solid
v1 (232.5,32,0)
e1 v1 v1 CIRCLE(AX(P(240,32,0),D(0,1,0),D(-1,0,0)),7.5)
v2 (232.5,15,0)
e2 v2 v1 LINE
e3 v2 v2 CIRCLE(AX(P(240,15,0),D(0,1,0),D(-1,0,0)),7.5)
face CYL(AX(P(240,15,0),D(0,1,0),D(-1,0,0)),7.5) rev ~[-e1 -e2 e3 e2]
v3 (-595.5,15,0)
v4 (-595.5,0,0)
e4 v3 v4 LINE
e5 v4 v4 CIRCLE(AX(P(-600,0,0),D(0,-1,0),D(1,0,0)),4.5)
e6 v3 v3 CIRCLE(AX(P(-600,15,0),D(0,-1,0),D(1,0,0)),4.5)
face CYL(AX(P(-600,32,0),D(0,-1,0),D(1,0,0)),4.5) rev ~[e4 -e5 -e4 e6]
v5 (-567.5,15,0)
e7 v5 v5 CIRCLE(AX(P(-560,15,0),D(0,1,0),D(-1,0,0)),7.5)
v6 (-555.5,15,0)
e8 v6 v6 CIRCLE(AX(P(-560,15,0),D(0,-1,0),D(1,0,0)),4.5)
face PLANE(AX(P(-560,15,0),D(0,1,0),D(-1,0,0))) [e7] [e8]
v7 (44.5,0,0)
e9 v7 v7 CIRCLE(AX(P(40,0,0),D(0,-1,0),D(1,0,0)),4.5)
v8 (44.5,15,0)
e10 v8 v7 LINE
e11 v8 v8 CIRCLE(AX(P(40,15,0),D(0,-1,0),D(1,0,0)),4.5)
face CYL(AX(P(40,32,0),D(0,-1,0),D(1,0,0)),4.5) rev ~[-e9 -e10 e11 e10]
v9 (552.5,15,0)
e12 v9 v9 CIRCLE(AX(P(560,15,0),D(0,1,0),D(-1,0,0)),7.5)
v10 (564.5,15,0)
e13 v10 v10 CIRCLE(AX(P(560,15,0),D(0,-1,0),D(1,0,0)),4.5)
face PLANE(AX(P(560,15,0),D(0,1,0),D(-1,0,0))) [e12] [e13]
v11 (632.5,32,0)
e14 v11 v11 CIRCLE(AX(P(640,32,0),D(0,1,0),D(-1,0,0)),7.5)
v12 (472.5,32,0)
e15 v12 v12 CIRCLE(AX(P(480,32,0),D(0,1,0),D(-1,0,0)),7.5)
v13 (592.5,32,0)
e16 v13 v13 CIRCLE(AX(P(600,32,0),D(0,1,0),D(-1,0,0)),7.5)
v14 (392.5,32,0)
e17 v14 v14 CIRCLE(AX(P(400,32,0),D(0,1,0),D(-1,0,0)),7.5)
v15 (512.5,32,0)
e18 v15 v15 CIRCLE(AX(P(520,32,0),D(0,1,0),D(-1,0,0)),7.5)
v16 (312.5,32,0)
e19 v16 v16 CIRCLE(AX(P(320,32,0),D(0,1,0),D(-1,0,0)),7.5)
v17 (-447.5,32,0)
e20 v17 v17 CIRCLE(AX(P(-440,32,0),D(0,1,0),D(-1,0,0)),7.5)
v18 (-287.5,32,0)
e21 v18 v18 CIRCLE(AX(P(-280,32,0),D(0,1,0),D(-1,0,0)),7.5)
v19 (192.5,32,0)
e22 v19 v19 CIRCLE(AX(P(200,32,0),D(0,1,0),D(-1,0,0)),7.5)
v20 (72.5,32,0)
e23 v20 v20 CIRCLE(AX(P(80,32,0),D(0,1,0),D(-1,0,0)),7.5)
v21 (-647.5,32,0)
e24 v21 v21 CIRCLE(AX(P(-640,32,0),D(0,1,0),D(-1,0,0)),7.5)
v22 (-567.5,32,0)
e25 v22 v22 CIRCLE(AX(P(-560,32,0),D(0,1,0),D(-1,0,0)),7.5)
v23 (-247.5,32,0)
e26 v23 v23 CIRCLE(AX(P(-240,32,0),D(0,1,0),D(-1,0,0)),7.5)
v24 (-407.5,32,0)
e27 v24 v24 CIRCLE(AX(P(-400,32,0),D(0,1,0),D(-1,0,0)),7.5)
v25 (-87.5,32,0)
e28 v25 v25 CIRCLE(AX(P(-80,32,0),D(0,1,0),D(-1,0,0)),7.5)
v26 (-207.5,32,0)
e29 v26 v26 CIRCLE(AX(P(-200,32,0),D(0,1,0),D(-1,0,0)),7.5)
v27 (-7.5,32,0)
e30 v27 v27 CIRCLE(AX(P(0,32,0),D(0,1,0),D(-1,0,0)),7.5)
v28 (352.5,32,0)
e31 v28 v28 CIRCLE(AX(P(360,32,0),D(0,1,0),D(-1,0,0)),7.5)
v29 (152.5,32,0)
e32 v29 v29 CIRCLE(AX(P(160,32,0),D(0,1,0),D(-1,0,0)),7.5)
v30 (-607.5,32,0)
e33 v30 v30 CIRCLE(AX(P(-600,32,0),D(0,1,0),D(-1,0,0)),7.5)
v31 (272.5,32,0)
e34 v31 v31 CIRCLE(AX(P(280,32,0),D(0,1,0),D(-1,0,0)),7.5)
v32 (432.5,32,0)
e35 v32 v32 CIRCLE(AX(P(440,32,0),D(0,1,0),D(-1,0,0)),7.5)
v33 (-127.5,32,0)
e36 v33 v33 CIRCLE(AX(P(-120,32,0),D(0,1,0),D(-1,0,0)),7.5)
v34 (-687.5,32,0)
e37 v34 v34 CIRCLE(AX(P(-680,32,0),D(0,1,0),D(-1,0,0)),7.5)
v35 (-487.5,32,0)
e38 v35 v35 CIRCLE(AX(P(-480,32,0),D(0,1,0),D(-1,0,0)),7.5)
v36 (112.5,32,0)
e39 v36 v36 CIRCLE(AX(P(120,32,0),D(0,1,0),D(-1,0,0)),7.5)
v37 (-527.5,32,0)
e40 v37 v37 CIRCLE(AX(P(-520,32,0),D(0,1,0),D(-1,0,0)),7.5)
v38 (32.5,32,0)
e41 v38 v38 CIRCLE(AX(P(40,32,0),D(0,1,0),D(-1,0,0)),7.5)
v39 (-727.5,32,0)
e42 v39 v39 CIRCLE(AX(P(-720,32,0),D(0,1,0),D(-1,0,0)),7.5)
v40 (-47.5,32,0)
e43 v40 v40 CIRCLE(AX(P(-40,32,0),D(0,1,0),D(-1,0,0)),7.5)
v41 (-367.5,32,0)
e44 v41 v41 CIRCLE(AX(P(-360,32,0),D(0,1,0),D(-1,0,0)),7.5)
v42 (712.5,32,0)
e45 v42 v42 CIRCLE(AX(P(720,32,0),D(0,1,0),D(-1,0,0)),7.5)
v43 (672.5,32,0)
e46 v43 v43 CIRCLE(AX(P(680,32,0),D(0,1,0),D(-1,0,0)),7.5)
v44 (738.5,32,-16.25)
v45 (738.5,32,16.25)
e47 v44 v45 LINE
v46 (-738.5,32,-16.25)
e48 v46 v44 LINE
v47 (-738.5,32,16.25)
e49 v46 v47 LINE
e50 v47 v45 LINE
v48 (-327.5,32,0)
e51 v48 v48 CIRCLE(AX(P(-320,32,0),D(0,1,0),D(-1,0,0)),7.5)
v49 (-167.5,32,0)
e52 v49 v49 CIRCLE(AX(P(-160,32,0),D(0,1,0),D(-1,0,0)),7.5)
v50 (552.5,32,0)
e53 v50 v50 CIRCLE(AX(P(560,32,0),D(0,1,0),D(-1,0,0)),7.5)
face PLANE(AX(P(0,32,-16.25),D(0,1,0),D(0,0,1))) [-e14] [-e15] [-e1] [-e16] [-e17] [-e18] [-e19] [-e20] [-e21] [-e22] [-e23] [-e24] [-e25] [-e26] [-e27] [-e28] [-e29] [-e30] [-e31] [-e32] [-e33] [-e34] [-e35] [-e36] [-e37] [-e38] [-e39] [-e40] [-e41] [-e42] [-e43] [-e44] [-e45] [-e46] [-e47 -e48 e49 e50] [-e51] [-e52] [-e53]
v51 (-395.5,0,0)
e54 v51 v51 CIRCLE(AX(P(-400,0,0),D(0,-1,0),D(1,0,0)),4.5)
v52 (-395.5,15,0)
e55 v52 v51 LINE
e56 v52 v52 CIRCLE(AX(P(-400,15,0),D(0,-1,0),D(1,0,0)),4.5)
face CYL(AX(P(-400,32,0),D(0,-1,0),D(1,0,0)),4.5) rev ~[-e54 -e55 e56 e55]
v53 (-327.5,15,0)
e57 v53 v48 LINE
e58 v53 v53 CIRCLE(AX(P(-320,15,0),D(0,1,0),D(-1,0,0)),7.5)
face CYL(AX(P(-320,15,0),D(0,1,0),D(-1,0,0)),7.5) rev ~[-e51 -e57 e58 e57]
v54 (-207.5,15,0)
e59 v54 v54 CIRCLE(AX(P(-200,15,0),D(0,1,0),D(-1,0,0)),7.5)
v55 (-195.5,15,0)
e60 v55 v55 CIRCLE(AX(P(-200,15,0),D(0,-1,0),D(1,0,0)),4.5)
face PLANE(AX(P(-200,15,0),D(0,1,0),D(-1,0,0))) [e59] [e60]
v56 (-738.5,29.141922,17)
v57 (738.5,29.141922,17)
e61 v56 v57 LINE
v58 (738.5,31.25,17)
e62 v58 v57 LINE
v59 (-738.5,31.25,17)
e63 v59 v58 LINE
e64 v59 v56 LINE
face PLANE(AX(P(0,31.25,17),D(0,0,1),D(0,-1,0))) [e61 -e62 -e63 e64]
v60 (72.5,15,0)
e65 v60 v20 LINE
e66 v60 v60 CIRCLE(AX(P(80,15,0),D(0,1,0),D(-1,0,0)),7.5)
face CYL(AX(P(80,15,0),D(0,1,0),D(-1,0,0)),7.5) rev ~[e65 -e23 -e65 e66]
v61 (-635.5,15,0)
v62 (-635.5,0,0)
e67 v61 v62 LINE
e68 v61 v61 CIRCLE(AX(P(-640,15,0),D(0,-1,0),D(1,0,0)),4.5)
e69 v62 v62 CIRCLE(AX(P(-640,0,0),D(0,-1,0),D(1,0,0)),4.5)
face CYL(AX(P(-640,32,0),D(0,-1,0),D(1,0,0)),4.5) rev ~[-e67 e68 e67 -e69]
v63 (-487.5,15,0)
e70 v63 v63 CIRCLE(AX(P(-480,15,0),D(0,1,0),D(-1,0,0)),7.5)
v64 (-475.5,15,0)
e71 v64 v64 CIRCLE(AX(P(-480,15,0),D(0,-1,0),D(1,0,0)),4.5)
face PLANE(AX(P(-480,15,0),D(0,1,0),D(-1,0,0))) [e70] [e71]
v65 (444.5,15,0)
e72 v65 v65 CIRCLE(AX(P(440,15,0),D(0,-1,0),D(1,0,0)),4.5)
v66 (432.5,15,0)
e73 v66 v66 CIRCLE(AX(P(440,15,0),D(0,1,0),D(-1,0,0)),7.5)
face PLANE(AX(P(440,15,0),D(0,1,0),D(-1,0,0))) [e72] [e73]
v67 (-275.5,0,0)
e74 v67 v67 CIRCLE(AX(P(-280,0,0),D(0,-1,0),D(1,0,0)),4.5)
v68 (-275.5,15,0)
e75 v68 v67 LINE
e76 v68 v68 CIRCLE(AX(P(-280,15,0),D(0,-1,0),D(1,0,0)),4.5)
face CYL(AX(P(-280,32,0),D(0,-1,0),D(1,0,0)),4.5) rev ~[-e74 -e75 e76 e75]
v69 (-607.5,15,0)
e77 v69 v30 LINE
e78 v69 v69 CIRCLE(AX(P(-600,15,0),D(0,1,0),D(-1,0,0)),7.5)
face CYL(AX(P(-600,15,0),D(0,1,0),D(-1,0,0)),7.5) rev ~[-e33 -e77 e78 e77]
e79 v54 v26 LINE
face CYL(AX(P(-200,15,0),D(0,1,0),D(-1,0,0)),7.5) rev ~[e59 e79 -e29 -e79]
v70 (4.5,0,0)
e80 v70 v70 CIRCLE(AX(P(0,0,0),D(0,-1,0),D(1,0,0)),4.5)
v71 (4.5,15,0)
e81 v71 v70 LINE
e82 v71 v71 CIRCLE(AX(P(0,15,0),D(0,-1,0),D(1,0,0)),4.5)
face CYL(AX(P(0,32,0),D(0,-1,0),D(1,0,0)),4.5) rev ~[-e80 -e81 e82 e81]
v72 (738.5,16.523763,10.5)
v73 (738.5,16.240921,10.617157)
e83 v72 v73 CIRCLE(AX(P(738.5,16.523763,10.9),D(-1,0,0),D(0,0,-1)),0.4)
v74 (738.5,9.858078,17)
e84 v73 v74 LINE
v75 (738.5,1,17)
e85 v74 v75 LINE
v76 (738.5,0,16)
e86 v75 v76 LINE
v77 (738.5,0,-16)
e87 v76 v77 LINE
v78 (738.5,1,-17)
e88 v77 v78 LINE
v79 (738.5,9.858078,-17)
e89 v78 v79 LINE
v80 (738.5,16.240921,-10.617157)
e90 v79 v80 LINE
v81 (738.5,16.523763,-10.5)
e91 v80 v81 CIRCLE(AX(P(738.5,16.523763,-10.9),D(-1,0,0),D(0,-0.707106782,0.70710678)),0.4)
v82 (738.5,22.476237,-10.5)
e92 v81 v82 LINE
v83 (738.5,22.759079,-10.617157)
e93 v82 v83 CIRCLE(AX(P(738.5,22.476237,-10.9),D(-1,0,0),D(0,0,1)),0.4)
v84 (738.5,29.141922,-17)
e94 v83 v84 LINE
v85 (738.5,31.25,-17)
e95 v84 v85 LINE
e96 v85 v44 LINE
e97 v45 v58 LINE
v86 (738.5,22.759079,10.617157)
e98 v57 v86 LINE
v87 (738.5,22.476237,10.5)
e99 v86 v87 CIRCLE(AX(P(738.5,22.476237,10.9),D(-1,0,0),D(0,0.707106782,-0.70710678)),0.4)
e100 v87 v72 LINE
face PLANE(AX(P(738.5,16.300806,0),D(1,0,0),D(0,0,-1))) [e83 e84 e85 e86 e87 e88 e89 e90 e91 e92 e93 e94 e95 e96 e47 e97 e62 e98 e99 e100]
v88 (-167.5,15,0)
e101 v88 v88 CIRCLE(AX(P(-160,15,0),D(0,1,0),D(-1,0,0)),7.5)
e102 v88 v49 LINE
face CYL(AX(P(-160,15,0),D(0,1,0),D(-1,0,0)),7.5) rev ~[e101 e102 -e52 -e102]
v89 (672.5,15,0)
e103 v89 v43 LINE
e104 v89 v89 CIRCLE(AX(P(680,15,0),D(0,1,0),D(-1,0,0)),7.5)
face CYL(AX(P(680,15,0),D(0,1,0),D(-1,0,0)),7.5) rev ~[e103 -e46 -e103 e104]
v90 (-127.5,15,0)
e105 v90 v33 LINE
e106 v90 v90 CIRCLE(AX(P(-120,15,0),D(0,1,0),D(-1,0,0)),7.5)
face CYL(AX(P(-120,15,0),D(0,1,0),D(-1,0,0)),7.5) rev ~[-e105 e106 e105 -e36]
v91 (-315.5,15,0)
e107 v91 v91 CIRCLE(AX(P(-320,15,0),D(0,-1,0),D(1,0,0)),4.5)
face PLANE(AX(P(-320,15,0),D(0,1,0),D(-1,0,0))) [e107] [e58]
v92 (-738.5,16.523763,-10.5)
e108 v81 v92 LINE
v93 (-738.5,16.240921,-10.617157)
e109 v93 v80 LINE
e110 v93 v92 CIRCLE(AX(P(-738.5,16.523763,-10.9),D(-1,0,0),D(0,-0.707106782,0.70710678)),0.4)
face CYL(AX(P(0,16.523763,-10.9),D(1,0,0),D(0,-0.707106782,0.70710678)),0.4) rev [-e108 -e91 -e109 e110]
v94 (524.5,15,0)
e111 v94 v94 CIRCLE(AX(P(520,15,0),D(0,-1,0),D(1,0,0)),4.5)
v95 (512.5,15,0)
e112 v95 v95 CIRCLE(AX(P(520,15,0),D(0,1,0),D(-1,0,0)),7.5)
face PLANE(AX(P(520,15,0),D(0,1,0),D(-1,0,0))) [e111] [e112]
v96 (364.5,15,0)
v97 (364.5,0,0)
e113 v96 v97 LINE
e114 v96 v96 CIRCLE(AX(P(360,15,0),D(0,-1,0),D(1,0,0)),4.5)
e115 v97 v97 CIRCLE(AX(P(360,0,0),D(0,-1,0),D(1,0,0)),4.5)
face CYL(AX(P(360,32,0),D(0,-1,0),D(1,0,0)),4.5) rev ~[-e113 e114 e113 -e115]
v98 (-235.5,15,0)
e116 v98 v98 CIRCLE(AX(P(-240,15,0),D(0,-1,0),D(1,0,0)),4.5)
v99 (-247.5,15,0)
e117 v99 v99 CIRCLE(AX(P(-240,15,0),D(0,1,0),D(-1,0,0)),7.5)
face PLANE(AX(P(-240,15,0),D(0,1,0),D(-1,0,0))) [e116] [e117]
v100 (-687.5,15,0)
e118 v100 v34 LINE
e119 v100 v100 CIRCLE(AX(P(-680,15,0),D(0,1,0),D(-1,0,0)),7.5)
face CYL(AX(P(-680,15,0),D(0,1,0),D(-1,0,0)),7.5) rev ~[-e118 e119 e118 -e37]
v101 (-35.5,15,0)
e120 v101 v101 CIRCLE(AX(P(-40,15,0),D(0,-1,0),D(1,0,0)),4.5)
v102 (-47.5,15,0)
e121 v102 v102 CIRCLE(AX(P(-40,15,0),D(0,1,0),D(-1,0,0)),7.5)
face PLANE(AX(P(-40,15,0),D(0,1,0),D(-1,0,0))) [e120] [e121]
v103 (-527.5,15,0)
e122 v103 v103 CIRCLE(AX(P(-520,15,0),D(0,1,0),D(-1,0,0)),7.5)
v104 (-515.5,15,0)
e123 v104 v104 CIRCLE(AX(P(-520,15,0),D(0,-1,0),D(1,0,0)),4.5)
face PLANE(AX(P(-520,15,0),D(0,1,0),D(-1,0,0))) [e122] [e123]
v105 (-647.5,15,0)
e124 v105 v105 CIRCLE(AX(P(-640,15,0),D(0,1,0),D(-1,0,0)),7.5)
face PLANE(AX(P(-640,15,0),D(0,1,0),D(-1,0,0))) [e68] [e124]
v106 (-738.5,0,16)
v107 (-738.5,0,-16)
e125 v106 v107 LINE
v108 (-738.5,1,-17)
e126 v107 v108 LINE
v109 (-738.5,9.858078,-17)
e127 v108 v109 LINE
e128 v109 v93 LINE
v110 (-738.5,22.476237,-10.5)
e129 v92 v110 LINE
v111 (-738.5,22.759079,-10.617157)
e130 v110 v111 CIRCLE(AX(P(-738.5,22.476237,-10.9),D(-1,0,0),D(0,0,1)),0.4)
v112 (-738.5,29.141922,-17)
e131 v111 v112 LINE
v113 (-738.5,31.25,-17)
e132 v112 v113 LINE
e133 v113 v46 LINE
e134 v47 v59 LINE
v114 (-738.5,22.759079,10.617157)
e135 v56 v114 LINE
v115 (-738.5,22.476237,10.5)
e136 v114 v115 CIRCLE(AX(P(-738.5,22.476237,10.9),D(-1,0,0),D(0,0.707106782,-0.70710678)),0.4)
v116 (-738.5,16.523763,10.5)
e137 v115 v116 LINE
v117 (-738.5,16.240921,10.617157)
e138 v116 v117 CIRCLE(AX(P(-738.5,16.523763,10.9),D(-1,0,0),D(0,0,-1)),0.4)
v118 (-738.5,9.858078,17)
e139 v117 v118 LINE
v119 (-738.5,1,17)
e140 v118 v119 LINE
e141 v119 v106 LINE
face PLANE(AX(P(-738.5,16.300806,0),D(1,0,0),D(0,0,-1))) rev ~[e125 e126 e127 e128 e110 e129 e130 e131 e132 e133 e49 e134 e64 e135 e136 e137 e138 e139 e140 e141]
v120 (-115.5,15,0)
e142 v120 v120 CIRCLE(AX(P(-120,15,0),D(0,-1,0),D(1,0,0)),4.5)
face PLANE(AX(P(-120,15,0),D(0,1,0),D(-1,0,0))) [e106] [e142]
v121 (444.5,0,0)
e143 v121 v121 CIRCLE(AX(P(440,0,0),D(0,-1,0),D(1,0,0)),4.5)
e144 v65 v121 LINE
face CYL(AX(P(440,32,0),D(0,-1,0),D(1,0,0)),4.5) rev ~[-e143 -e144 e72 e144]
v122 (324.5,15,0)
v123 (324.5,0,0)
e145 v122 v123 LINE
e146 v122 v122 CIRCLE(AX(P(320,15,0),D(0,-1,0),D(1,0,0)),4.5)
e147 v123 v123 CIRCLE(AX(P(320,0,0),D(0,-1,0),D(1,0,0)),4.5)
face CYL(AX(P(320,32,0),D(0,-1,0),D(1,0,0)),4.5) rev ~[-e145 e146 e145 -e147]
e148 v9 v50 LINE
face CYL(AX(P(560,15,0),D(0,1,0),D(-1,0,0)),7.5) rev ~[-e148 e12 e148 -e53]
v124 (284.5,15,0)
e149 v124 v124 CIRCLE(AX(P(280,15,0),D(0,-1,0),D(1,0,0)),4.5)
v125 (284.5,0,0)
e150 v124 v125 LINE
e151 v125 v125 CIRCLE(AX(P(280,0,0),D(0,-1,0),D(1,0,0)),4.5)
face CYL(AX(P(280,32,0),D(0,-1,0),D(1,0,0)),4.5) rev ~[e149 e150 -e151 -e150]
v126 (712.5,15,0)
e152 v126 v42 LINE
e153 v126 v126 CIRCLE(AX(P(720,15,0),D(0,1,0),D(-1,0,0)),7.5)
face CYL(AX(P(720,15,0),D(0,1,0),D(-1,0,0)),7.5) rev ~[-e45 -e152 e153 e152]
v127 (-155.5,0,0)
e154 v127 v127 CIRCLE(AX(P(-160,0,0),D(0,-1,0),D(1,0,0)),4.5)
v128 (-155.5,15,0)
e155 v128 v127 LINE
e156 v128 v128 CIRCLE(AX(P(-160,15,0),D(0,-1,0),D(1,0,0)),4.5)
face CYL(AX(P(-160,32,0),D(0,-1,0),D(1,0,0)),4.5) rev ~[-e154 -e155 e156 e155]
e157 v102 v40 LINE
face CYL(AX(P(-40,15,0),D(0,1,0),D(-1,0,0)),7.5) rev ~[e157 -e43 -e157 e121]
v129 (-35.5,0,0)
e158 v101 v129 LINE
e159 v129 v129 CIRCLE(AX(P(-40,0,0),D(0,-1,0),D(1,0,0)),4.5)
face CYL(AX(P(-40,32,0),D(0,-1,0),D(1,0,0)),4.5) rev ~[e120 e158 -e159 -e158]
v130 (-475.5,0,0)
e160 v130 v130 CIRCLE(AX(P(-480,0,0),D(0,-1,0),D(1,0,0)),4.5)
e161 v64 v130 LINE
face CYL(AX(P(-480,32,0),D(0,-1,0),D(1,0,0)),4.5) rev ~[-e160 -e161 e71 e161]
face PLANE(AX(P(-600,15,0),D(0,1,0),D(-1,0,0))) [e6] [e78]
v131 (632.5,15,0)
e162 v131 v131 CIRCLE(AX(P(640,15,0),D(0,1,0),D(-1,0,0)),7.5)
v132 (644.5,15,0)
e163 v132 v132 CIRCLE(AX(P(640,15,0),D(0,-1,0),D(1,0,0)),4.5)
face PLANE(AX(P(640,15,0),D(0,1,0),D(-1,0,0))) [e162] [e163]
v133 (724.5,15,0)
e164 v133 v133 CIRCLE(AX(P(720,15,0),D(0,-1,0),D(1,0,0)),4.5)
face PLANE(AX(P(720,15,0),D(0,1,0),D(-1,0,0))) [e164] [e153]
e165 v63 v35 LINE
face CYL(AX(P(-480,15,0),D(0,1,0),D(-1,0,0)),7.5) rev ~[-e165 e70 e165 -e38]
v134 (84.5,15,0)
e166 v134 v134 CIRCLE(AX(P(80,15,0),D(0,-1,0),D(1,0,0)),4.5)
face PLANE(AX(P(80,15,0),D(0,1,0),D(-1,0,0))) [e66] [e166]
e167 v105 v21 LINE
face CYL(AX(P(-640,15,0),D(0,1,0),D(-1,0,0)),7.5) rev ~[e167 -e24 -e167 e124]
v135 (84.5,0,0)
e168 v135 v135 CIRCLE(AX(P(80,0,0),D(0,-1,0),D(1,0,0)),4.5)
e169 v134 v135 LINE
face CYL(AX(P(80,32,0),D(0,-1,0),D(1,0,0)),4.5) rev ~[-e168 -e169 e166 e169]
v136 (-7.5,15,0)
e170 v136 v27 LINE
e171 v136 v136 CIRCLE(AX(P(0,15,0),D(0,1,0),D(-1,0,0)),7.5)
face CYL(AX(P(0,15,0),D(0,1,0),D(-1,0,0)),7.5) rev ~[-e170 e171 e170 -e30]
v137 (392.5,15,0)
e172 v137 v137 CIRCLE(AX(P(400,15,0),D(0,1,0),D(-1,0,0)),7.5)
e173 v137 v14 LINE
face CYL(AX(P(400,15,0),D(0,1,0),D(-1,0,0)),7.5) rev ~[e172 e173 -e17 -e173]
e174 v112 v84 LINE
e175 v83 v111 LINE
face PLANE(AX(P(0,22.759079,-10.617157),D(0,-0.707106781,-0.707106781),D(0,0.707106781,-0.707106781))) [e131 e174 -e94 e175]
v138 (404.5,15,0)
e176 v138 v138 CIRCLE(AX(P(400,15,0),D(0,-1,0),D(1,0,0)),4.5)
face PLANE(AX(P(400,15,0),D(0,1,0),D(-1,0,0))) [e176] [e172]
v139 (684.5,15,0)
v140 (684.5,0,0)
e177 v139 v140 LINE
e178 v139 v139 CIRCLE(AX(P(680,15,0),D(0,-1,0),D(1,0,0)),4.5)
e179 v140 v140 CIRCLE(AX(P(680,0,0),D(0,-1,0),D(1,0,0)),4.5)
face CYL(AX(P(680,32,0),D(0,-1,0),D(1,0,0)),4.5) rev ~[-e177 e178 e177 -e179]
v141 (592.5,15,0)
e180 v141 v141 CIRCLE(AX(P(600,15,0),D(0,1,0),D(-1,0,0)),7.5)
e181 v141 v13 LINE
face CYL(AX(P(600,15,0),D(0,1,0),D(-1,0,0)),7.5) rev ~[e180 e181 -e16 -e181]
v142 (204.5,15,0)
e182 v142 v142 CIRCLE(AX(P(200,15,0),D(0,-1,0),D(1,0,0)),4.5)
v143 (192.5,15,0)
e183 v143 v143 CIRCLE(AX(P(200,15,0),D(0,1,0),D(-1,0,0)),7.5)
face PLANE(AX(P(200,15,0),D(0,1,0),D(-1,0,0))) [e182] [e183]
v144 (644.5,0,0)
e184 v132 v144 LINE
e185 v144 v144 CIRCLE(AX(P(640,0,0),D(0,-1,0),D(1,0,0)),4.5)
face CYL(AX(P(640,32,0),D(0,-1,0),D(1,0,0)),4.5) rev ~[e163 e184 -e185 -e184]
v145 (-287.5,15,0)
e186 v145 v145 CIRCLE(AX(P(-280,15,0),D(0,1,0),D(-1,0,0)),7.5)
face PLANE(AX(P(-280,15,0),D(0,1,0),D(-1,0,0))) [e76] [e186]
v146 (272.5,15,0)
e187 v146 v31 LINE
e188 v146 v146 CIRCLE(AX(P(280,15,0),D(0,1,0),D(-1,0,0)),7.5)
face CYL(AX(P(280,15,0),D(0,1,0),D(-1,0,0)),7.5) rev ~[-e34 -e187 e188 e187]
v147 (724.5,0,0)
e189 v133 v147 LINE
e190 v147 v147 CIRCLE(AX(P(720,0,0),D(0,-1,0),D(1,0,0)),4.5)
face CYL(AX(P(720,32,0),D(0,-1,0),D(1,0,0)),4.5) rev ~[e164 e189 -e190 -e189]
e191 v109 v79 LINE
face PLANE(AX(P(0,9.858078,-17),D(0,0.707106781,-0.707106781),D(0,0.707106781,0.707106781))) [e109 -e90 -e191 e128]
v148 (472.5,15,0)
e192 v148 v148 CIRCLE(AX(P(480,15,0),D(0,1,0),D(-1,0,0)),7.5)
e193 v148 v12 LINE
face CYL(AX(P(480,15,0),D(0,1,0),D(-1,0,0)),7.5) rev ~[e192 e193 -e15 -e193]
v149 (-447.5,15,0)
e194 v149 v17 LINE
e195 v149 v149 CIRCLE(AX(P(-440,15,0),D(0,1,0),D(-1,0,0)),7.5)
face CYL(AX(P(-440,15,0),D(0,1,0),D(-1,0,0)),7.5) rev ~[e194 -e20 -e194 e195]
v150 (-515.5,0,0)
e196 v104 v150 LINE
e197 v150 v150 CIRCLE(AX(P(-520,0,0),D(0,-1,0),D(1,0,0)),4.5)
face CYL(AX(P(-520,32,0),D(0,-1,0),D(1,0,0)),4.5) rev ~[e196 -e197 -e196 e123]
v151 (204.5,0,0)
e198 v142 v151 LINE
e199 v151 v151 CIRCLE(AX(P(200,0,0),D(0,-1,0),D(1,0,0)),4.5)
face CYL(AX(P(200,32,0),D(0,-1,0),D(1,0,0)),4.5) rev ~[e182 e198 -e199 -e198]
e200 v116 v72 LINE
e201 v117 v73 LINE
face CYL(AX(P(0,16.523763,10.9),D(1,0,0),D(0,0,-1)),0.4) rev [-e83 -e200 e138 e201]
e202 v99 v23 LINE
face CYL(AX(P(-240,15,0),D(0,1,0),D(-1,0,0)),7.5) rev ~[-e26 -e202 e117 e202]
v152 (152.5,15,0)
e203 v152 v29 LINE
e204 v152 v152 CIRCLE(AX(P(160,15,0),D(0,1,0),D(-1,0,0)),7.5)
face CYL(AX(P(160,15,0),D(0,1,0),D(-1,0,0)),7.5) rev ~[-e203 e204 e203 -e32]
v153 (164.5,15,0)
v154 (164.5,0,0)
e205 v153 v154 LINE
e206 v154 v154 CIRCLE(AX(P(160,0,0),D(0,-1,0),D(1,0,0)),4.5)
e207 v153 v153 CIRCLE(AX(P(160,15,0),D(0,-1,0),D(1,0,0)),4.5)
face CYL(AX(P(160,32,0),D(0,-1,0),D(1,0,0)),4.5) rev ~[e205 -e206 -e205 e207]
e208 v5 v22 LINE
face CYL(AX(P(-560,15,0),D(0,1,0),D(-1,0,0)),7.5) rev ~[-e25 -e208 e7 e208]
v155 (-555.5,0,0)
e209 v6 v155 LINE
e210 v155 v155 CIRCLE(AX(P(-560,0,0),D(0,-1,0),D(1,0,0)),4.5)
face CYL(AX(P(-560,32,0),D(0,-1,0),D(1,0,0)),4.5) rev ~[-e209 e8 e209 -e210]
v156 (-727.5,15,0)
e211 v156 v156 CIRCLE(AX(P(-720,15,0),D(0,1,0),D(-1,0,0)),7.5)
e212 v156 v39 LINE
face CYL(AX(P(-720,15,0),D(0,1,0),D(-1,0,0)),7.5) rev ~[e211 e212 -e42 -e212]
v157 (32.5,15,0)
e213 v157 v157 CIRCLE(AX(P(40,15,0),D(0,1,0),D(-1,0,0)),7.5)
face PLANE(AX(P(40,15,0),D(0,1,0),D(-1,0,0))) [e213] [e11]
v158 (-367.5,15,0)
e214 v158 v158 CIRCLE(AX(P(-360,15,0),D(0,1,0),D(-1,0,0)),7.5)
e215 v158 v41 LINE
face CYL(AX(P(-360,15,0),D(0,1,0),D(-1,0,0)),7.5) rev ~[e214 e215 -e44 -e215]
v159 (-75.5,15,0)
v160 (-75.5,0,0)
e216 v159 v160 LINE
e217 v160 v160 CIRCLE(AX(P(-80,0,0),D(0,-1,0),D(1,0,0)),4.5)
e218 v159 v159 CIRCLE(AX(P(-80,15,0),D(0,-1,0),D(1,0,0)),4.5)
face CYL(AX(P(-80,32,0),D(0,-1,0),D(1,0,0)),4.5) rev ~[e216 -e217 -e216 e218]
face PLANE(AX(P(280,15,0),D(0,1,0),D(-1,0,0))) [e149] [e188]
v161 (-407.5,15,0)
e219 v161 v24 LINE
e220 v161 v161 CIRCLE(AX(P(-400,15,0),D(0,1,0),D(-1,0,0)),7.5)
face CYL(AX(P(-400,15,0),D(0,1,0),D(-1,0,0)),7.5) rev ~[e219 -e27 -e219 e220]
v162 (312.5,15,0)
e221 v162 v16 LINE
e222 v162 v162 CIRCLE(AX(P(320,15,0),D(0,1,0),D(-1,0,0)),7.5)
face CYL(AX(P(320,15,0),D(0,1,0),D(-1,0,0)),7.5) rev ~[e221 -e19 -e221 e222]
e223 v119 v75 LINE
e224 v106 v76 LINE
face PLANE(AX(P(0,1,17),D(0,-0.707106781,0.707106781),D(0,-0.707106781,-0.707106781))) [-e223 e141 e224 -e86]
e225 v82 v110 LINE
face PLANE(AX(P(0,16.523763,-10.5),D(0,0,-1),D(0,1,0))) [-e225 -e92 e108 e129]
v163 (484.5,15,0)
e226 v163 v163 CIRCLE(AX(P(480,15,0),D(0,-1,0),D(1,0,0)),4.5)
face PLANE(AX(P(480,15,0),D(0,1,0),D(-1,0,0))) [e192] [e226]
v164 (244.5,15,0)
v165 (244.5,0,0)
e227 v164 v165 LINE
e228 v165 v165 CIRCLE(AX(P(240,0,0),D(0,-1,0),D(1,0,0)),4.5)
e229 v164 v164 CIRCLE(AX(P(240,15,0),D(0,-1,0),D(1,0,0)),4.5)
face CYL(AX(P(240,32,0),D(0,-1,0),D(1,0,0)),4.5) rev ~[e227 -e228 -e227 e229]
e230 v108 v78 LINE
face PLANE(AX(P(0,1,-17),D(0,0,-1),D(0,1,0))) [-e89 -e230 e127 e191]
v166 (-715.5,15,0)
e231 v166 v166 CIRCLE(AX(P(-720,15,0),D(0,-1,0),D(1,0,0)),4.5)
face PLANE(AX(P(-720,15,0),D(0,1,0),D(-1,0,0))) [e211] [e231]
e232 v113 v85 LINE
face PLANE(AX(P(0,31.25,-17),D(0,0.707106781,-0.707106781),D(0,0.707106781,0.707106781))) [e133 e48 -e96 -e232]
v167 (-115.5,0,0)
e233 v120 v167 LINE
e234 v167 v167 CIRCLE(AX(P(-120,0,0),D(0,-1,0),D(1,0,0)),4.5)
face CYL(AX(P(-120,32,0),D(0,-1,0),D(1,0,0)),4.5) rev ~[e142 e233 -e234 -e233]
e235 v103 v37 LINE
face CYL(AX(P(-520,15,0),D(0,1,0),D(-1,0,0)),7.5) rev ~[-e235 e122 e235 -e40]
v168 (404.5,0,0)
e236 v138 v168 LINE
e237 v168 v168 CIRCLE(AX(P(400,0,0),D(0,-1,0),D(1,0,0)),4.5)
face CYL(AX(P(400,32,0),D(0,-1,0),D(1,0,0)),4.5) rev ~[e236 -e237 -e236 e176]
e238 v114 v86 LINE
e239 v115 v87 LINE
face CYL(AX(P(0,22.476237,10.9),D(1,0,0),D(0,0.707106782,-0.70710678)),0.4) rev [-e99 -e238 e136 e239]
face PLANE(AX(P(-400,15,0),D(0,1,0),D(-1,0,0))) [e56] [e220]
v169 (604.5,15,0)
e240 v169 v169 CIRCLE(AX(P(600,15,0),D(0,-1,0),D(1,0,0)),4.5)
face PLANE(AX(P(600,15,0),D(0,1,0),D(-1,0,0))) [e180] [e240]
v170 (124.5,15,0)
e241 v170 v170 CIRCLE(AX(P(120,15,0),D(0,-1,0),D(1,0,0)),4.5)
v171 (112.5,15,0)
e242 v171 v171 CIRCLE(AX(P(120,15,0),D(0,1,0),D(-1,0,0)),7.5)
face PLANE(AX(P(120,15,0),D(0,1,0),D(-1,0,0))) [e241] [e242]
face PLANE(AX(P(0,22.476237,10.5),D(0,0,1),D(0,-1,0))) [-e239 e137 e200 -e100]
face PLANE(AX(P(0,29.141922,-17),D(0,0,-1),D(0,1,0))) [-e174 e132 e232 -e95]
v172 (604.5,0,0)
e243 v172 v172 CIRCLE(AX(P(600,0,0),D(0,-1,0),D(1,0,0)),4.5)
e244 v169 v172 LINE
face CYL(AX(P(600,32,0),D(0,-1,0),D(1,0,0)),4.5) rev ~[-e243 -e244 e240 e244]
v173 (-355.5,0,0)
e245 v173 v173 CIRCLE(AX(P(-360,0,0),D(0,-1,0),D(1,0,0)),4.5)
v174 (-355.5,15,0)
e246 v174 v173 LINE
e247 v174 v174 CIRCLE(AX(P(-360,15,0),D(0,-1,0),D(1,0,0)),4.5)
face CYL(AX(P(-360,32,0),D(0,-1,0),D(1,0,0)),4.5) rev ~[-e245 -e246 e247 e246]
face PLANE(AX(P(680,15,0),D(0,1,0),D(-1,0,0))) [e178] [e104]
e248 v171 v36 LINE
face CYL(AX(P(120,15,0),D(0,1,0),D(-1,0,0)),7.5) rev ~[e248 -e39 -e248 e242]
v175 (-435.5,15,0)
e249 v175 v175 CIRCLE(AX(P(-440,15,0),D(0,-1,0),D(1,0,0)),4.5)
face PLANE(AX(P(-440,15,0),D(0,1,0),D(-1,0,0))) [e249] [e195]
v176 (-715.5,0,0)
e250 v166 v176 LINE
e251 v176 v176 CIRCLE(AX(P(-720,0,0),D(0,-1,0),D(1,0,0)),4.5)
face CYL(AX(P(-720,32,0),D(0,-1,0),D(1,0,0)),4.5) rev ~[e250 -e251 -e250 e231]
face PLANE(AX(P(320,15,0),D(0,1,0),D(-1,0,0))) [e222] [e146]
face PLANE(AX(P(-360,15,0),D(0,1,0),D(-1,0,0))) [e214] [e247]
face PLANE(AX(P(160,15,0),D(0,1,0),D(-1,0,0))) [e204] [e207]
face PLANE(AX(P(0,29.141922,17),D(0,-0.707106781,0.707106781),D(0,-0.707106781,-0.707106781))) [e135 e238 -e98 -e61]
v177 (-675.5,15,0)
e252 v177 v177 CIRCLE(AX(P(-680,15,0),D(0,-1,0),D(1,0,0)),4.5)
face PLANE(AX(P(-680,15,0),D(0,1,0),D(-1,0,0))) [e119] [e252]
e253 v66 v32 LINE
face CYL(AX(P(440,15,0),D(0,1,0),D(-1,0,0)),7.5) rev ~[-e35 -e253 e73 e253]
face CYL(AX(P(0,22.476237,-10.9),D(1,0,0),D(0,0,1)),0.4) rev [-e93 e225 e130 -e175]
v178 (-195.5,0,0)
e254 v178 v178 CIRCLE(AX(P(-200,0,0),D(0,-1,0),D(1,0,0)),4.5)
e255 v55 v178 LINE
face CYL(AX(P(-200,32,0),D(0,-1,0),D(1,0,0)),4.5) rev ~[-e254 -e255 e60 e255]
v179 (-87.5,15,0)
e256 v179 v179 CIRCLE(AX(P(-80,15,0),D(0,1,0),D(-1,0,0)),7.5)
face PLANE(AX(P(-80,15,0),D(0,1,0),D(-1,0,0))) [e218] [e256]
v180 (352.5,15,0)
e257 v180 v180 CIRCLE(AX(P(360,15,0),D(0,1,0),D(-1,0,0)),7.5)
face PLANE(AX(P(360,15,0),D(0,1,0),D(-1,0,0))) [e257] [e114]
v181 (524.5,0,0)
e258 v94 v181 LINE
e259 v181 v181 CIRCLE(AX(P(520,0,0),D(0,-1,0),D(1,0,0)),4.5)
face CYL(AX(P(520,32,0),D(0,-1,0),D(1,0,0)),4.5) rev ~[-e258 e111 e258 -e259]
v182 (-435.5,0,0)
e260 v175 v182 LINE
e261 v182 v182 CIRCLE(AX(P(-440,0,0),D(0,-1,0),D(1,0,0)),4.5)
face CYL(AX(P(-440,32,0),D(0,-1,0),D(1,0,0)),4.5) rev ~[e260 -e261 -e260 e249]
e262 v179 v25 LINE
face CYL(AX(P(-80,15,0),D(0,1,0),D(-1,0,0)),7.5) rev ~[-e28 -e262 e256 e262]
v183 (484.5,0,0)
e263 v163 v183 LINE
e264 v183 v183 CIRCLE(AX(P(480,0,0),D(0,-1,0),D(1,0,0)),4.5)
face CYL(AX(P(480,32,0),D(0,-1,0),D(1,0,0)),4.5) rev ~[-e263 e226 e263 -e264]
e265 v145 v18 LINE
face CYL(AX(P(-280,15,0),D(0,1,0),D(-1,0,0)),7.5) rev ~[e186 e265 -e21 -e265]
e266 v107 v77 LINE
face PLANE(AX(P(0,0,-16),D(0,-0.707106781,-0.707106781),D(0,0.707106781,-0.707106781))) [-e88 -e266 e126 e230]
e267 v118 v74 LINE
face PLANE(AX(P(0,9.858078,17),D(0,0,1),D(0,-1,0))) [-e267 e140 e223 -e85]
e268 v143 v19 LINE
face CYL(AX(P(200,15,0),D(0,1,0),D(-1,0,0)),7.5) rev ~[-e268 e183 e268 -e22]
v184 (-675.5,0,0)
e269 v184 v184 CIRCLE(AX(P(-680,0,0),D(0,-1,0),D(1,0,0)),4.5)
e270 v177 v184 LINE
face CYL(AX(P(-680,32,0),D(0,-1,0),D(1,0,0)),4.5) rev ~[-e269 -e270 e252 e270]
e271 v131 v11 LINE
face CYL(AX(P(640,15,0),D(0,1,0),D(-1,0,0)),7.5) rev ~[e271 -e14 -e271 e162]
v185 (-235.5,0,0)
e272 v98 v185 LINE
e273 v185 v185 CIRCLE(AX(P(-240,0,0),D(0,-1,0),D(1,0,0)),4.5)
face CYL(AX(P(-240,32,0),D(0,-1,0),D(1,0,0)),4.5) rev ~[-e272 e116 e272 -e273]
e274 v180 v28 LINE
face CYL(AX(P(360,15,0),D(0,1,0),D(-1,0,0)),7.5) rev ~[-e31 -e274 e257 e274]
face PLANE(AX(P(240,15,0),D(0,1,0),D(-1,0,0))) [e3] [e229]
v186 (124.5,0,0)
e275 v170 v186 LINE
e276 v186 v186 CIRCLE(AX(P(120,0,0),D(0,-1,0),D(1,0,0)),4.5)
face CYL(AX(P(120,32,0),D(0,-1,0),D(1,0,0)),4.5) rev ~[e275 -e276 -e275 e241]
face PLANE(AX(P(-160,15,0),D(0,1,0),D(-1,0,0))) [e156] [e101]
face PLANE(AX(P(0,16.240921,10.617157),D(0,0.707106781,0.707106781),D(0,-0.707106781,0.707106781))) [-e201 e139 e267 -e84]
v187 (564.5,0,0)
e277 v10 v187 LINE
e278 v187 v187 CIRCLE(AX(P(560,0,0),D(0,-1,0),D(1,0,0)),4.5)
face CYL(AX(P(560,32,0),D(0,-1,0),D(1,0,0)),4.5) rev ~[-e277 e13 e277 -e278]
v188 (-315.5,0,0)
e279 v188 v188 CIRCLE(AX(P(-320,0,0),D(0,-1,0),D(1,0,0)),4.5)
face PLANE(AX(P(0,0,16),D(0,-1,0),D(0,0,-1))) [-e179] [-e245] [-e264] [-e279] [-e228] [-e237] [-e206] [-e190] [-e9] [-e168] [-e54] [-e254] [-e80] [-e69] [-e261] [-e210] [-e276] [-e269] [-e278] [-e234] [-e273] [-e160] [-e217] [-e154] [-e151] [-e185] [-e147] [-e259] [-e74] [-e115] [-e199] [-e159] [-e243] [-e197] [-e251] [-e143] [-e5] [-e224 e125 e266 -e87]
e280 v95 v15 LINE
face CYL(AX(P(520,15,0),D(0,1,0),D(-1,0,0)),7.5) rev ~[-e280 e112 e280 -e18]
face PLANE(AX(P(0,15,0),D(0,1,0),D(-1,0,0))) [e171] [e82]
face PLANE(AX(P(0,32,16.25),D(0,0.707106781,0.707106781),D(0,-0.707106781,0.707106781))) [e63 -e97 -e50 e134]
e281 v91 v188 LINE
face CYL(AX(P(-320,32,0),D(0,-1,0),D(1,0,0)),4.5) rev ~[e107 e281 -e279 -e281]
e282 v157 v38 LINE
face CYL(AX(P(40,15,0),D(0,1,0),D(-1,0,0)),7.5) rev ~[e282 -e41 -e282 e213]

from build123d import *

# Parameters (mm, degrees)
BOSS_EXTRUDE2_DEPTH            = 738.5
CBORE_FOR_M8_SHCS1_D           = 9
CBORE_FOR_M8_SHCS1_CBORE_D     = 15
CBORE_FOR_M8_SHCS1_CBORE_DEPTH = 17
LPATTERN1_COUNT                = 37
LPATTERN1_PITCH                = 40


with BuildPart() as part:
    # Sketch2 → Boss-Extrude2 (new, symmetric)
    with BuildSketch(Plane(origin=(0, 0, 0), x_dir=(0, 0, -1), z_dir=(1, 0, 0))):
        with BuildLine():
            Line((10.617157288, 22.759079349), (17, 29.141922061))
            Line((17, 29.141922061), (17, 31.25))
            Line((17, 31.25), (16.25, 32))
            Line((16.25, 32), (-16.25, 32))
            Line((-16.25, 32), (-17, 31.25))
            Line((-17, 31.25), (-17, 29.141922061))
            Line((-17, 29.141922061), (-10.617157288, 22.759079349))
            ThreePointArc((-10.617157288, 22.759079349), (-10.530448187, 22.629310009), (-10.5, 22.476236636))
            Line((-10.5, 22.476236636), (-10.5, 16.523763364))
            ThreePointArc((-10.5, 16.523763364), (-10.530448187, 16.370689991), (-10.617157288, 16.240920651))
            Line((-10.617157288, 16.240920651), (-17, 9.858077939))
            Line((-17, 9.858077939), (-17, 1))
            Line((-17, 1), (-16, 0))
            Line((-16, 0), (16, 0))
            Line((16, 0), (17, 1))
            Line((17, 1), (17, 9.858077939))
            Line((17, 9.858077939), (10.617157288, 16.240920651))
            ThreePointArc((10.617157288, 16.240920651), (10.530448187, 16.370689991), (10.5, 16.523763364))
            Line((10.5, 16.523763364), (10.5, 22.476236636))
            ThreePointArc((10.5, 22.476236636), (10.530448187, 22.629310009), (10.617157288, 22.759079349))
        make_face()
    extrude(amount=BOSS_EXTRUDE2_DEPTH, both=True)

    # CBORE for M8 SHCS1 (through all)
    with Locations(Plane(origin=(0, 32, 0), x_dir=(-1, 0, 0), z_dir=(0, 1, 0))):
        with Locations((-720, 0)):
            cbore_for_m8_shcs1 = CounterBoreHole(CBORE_FOR_M8_SHCS1_D / 2, CBORE_FOR_M8_SHCS1_CBORE_D / 2, CBORE_FOR_M8_SHCS1_CBORE_DEPTH)

    # LPattern1: CBORE for M8 SHCS1 ×37
    with Locations(*[(-i * LPATTERN1_PITCH, 0, 0) for i in range(1, LPATTERN1_COUNT)]):
        add(cbore_for_m8_shcs1, mode=Mode.SUBTRACT)


solid = part.part
